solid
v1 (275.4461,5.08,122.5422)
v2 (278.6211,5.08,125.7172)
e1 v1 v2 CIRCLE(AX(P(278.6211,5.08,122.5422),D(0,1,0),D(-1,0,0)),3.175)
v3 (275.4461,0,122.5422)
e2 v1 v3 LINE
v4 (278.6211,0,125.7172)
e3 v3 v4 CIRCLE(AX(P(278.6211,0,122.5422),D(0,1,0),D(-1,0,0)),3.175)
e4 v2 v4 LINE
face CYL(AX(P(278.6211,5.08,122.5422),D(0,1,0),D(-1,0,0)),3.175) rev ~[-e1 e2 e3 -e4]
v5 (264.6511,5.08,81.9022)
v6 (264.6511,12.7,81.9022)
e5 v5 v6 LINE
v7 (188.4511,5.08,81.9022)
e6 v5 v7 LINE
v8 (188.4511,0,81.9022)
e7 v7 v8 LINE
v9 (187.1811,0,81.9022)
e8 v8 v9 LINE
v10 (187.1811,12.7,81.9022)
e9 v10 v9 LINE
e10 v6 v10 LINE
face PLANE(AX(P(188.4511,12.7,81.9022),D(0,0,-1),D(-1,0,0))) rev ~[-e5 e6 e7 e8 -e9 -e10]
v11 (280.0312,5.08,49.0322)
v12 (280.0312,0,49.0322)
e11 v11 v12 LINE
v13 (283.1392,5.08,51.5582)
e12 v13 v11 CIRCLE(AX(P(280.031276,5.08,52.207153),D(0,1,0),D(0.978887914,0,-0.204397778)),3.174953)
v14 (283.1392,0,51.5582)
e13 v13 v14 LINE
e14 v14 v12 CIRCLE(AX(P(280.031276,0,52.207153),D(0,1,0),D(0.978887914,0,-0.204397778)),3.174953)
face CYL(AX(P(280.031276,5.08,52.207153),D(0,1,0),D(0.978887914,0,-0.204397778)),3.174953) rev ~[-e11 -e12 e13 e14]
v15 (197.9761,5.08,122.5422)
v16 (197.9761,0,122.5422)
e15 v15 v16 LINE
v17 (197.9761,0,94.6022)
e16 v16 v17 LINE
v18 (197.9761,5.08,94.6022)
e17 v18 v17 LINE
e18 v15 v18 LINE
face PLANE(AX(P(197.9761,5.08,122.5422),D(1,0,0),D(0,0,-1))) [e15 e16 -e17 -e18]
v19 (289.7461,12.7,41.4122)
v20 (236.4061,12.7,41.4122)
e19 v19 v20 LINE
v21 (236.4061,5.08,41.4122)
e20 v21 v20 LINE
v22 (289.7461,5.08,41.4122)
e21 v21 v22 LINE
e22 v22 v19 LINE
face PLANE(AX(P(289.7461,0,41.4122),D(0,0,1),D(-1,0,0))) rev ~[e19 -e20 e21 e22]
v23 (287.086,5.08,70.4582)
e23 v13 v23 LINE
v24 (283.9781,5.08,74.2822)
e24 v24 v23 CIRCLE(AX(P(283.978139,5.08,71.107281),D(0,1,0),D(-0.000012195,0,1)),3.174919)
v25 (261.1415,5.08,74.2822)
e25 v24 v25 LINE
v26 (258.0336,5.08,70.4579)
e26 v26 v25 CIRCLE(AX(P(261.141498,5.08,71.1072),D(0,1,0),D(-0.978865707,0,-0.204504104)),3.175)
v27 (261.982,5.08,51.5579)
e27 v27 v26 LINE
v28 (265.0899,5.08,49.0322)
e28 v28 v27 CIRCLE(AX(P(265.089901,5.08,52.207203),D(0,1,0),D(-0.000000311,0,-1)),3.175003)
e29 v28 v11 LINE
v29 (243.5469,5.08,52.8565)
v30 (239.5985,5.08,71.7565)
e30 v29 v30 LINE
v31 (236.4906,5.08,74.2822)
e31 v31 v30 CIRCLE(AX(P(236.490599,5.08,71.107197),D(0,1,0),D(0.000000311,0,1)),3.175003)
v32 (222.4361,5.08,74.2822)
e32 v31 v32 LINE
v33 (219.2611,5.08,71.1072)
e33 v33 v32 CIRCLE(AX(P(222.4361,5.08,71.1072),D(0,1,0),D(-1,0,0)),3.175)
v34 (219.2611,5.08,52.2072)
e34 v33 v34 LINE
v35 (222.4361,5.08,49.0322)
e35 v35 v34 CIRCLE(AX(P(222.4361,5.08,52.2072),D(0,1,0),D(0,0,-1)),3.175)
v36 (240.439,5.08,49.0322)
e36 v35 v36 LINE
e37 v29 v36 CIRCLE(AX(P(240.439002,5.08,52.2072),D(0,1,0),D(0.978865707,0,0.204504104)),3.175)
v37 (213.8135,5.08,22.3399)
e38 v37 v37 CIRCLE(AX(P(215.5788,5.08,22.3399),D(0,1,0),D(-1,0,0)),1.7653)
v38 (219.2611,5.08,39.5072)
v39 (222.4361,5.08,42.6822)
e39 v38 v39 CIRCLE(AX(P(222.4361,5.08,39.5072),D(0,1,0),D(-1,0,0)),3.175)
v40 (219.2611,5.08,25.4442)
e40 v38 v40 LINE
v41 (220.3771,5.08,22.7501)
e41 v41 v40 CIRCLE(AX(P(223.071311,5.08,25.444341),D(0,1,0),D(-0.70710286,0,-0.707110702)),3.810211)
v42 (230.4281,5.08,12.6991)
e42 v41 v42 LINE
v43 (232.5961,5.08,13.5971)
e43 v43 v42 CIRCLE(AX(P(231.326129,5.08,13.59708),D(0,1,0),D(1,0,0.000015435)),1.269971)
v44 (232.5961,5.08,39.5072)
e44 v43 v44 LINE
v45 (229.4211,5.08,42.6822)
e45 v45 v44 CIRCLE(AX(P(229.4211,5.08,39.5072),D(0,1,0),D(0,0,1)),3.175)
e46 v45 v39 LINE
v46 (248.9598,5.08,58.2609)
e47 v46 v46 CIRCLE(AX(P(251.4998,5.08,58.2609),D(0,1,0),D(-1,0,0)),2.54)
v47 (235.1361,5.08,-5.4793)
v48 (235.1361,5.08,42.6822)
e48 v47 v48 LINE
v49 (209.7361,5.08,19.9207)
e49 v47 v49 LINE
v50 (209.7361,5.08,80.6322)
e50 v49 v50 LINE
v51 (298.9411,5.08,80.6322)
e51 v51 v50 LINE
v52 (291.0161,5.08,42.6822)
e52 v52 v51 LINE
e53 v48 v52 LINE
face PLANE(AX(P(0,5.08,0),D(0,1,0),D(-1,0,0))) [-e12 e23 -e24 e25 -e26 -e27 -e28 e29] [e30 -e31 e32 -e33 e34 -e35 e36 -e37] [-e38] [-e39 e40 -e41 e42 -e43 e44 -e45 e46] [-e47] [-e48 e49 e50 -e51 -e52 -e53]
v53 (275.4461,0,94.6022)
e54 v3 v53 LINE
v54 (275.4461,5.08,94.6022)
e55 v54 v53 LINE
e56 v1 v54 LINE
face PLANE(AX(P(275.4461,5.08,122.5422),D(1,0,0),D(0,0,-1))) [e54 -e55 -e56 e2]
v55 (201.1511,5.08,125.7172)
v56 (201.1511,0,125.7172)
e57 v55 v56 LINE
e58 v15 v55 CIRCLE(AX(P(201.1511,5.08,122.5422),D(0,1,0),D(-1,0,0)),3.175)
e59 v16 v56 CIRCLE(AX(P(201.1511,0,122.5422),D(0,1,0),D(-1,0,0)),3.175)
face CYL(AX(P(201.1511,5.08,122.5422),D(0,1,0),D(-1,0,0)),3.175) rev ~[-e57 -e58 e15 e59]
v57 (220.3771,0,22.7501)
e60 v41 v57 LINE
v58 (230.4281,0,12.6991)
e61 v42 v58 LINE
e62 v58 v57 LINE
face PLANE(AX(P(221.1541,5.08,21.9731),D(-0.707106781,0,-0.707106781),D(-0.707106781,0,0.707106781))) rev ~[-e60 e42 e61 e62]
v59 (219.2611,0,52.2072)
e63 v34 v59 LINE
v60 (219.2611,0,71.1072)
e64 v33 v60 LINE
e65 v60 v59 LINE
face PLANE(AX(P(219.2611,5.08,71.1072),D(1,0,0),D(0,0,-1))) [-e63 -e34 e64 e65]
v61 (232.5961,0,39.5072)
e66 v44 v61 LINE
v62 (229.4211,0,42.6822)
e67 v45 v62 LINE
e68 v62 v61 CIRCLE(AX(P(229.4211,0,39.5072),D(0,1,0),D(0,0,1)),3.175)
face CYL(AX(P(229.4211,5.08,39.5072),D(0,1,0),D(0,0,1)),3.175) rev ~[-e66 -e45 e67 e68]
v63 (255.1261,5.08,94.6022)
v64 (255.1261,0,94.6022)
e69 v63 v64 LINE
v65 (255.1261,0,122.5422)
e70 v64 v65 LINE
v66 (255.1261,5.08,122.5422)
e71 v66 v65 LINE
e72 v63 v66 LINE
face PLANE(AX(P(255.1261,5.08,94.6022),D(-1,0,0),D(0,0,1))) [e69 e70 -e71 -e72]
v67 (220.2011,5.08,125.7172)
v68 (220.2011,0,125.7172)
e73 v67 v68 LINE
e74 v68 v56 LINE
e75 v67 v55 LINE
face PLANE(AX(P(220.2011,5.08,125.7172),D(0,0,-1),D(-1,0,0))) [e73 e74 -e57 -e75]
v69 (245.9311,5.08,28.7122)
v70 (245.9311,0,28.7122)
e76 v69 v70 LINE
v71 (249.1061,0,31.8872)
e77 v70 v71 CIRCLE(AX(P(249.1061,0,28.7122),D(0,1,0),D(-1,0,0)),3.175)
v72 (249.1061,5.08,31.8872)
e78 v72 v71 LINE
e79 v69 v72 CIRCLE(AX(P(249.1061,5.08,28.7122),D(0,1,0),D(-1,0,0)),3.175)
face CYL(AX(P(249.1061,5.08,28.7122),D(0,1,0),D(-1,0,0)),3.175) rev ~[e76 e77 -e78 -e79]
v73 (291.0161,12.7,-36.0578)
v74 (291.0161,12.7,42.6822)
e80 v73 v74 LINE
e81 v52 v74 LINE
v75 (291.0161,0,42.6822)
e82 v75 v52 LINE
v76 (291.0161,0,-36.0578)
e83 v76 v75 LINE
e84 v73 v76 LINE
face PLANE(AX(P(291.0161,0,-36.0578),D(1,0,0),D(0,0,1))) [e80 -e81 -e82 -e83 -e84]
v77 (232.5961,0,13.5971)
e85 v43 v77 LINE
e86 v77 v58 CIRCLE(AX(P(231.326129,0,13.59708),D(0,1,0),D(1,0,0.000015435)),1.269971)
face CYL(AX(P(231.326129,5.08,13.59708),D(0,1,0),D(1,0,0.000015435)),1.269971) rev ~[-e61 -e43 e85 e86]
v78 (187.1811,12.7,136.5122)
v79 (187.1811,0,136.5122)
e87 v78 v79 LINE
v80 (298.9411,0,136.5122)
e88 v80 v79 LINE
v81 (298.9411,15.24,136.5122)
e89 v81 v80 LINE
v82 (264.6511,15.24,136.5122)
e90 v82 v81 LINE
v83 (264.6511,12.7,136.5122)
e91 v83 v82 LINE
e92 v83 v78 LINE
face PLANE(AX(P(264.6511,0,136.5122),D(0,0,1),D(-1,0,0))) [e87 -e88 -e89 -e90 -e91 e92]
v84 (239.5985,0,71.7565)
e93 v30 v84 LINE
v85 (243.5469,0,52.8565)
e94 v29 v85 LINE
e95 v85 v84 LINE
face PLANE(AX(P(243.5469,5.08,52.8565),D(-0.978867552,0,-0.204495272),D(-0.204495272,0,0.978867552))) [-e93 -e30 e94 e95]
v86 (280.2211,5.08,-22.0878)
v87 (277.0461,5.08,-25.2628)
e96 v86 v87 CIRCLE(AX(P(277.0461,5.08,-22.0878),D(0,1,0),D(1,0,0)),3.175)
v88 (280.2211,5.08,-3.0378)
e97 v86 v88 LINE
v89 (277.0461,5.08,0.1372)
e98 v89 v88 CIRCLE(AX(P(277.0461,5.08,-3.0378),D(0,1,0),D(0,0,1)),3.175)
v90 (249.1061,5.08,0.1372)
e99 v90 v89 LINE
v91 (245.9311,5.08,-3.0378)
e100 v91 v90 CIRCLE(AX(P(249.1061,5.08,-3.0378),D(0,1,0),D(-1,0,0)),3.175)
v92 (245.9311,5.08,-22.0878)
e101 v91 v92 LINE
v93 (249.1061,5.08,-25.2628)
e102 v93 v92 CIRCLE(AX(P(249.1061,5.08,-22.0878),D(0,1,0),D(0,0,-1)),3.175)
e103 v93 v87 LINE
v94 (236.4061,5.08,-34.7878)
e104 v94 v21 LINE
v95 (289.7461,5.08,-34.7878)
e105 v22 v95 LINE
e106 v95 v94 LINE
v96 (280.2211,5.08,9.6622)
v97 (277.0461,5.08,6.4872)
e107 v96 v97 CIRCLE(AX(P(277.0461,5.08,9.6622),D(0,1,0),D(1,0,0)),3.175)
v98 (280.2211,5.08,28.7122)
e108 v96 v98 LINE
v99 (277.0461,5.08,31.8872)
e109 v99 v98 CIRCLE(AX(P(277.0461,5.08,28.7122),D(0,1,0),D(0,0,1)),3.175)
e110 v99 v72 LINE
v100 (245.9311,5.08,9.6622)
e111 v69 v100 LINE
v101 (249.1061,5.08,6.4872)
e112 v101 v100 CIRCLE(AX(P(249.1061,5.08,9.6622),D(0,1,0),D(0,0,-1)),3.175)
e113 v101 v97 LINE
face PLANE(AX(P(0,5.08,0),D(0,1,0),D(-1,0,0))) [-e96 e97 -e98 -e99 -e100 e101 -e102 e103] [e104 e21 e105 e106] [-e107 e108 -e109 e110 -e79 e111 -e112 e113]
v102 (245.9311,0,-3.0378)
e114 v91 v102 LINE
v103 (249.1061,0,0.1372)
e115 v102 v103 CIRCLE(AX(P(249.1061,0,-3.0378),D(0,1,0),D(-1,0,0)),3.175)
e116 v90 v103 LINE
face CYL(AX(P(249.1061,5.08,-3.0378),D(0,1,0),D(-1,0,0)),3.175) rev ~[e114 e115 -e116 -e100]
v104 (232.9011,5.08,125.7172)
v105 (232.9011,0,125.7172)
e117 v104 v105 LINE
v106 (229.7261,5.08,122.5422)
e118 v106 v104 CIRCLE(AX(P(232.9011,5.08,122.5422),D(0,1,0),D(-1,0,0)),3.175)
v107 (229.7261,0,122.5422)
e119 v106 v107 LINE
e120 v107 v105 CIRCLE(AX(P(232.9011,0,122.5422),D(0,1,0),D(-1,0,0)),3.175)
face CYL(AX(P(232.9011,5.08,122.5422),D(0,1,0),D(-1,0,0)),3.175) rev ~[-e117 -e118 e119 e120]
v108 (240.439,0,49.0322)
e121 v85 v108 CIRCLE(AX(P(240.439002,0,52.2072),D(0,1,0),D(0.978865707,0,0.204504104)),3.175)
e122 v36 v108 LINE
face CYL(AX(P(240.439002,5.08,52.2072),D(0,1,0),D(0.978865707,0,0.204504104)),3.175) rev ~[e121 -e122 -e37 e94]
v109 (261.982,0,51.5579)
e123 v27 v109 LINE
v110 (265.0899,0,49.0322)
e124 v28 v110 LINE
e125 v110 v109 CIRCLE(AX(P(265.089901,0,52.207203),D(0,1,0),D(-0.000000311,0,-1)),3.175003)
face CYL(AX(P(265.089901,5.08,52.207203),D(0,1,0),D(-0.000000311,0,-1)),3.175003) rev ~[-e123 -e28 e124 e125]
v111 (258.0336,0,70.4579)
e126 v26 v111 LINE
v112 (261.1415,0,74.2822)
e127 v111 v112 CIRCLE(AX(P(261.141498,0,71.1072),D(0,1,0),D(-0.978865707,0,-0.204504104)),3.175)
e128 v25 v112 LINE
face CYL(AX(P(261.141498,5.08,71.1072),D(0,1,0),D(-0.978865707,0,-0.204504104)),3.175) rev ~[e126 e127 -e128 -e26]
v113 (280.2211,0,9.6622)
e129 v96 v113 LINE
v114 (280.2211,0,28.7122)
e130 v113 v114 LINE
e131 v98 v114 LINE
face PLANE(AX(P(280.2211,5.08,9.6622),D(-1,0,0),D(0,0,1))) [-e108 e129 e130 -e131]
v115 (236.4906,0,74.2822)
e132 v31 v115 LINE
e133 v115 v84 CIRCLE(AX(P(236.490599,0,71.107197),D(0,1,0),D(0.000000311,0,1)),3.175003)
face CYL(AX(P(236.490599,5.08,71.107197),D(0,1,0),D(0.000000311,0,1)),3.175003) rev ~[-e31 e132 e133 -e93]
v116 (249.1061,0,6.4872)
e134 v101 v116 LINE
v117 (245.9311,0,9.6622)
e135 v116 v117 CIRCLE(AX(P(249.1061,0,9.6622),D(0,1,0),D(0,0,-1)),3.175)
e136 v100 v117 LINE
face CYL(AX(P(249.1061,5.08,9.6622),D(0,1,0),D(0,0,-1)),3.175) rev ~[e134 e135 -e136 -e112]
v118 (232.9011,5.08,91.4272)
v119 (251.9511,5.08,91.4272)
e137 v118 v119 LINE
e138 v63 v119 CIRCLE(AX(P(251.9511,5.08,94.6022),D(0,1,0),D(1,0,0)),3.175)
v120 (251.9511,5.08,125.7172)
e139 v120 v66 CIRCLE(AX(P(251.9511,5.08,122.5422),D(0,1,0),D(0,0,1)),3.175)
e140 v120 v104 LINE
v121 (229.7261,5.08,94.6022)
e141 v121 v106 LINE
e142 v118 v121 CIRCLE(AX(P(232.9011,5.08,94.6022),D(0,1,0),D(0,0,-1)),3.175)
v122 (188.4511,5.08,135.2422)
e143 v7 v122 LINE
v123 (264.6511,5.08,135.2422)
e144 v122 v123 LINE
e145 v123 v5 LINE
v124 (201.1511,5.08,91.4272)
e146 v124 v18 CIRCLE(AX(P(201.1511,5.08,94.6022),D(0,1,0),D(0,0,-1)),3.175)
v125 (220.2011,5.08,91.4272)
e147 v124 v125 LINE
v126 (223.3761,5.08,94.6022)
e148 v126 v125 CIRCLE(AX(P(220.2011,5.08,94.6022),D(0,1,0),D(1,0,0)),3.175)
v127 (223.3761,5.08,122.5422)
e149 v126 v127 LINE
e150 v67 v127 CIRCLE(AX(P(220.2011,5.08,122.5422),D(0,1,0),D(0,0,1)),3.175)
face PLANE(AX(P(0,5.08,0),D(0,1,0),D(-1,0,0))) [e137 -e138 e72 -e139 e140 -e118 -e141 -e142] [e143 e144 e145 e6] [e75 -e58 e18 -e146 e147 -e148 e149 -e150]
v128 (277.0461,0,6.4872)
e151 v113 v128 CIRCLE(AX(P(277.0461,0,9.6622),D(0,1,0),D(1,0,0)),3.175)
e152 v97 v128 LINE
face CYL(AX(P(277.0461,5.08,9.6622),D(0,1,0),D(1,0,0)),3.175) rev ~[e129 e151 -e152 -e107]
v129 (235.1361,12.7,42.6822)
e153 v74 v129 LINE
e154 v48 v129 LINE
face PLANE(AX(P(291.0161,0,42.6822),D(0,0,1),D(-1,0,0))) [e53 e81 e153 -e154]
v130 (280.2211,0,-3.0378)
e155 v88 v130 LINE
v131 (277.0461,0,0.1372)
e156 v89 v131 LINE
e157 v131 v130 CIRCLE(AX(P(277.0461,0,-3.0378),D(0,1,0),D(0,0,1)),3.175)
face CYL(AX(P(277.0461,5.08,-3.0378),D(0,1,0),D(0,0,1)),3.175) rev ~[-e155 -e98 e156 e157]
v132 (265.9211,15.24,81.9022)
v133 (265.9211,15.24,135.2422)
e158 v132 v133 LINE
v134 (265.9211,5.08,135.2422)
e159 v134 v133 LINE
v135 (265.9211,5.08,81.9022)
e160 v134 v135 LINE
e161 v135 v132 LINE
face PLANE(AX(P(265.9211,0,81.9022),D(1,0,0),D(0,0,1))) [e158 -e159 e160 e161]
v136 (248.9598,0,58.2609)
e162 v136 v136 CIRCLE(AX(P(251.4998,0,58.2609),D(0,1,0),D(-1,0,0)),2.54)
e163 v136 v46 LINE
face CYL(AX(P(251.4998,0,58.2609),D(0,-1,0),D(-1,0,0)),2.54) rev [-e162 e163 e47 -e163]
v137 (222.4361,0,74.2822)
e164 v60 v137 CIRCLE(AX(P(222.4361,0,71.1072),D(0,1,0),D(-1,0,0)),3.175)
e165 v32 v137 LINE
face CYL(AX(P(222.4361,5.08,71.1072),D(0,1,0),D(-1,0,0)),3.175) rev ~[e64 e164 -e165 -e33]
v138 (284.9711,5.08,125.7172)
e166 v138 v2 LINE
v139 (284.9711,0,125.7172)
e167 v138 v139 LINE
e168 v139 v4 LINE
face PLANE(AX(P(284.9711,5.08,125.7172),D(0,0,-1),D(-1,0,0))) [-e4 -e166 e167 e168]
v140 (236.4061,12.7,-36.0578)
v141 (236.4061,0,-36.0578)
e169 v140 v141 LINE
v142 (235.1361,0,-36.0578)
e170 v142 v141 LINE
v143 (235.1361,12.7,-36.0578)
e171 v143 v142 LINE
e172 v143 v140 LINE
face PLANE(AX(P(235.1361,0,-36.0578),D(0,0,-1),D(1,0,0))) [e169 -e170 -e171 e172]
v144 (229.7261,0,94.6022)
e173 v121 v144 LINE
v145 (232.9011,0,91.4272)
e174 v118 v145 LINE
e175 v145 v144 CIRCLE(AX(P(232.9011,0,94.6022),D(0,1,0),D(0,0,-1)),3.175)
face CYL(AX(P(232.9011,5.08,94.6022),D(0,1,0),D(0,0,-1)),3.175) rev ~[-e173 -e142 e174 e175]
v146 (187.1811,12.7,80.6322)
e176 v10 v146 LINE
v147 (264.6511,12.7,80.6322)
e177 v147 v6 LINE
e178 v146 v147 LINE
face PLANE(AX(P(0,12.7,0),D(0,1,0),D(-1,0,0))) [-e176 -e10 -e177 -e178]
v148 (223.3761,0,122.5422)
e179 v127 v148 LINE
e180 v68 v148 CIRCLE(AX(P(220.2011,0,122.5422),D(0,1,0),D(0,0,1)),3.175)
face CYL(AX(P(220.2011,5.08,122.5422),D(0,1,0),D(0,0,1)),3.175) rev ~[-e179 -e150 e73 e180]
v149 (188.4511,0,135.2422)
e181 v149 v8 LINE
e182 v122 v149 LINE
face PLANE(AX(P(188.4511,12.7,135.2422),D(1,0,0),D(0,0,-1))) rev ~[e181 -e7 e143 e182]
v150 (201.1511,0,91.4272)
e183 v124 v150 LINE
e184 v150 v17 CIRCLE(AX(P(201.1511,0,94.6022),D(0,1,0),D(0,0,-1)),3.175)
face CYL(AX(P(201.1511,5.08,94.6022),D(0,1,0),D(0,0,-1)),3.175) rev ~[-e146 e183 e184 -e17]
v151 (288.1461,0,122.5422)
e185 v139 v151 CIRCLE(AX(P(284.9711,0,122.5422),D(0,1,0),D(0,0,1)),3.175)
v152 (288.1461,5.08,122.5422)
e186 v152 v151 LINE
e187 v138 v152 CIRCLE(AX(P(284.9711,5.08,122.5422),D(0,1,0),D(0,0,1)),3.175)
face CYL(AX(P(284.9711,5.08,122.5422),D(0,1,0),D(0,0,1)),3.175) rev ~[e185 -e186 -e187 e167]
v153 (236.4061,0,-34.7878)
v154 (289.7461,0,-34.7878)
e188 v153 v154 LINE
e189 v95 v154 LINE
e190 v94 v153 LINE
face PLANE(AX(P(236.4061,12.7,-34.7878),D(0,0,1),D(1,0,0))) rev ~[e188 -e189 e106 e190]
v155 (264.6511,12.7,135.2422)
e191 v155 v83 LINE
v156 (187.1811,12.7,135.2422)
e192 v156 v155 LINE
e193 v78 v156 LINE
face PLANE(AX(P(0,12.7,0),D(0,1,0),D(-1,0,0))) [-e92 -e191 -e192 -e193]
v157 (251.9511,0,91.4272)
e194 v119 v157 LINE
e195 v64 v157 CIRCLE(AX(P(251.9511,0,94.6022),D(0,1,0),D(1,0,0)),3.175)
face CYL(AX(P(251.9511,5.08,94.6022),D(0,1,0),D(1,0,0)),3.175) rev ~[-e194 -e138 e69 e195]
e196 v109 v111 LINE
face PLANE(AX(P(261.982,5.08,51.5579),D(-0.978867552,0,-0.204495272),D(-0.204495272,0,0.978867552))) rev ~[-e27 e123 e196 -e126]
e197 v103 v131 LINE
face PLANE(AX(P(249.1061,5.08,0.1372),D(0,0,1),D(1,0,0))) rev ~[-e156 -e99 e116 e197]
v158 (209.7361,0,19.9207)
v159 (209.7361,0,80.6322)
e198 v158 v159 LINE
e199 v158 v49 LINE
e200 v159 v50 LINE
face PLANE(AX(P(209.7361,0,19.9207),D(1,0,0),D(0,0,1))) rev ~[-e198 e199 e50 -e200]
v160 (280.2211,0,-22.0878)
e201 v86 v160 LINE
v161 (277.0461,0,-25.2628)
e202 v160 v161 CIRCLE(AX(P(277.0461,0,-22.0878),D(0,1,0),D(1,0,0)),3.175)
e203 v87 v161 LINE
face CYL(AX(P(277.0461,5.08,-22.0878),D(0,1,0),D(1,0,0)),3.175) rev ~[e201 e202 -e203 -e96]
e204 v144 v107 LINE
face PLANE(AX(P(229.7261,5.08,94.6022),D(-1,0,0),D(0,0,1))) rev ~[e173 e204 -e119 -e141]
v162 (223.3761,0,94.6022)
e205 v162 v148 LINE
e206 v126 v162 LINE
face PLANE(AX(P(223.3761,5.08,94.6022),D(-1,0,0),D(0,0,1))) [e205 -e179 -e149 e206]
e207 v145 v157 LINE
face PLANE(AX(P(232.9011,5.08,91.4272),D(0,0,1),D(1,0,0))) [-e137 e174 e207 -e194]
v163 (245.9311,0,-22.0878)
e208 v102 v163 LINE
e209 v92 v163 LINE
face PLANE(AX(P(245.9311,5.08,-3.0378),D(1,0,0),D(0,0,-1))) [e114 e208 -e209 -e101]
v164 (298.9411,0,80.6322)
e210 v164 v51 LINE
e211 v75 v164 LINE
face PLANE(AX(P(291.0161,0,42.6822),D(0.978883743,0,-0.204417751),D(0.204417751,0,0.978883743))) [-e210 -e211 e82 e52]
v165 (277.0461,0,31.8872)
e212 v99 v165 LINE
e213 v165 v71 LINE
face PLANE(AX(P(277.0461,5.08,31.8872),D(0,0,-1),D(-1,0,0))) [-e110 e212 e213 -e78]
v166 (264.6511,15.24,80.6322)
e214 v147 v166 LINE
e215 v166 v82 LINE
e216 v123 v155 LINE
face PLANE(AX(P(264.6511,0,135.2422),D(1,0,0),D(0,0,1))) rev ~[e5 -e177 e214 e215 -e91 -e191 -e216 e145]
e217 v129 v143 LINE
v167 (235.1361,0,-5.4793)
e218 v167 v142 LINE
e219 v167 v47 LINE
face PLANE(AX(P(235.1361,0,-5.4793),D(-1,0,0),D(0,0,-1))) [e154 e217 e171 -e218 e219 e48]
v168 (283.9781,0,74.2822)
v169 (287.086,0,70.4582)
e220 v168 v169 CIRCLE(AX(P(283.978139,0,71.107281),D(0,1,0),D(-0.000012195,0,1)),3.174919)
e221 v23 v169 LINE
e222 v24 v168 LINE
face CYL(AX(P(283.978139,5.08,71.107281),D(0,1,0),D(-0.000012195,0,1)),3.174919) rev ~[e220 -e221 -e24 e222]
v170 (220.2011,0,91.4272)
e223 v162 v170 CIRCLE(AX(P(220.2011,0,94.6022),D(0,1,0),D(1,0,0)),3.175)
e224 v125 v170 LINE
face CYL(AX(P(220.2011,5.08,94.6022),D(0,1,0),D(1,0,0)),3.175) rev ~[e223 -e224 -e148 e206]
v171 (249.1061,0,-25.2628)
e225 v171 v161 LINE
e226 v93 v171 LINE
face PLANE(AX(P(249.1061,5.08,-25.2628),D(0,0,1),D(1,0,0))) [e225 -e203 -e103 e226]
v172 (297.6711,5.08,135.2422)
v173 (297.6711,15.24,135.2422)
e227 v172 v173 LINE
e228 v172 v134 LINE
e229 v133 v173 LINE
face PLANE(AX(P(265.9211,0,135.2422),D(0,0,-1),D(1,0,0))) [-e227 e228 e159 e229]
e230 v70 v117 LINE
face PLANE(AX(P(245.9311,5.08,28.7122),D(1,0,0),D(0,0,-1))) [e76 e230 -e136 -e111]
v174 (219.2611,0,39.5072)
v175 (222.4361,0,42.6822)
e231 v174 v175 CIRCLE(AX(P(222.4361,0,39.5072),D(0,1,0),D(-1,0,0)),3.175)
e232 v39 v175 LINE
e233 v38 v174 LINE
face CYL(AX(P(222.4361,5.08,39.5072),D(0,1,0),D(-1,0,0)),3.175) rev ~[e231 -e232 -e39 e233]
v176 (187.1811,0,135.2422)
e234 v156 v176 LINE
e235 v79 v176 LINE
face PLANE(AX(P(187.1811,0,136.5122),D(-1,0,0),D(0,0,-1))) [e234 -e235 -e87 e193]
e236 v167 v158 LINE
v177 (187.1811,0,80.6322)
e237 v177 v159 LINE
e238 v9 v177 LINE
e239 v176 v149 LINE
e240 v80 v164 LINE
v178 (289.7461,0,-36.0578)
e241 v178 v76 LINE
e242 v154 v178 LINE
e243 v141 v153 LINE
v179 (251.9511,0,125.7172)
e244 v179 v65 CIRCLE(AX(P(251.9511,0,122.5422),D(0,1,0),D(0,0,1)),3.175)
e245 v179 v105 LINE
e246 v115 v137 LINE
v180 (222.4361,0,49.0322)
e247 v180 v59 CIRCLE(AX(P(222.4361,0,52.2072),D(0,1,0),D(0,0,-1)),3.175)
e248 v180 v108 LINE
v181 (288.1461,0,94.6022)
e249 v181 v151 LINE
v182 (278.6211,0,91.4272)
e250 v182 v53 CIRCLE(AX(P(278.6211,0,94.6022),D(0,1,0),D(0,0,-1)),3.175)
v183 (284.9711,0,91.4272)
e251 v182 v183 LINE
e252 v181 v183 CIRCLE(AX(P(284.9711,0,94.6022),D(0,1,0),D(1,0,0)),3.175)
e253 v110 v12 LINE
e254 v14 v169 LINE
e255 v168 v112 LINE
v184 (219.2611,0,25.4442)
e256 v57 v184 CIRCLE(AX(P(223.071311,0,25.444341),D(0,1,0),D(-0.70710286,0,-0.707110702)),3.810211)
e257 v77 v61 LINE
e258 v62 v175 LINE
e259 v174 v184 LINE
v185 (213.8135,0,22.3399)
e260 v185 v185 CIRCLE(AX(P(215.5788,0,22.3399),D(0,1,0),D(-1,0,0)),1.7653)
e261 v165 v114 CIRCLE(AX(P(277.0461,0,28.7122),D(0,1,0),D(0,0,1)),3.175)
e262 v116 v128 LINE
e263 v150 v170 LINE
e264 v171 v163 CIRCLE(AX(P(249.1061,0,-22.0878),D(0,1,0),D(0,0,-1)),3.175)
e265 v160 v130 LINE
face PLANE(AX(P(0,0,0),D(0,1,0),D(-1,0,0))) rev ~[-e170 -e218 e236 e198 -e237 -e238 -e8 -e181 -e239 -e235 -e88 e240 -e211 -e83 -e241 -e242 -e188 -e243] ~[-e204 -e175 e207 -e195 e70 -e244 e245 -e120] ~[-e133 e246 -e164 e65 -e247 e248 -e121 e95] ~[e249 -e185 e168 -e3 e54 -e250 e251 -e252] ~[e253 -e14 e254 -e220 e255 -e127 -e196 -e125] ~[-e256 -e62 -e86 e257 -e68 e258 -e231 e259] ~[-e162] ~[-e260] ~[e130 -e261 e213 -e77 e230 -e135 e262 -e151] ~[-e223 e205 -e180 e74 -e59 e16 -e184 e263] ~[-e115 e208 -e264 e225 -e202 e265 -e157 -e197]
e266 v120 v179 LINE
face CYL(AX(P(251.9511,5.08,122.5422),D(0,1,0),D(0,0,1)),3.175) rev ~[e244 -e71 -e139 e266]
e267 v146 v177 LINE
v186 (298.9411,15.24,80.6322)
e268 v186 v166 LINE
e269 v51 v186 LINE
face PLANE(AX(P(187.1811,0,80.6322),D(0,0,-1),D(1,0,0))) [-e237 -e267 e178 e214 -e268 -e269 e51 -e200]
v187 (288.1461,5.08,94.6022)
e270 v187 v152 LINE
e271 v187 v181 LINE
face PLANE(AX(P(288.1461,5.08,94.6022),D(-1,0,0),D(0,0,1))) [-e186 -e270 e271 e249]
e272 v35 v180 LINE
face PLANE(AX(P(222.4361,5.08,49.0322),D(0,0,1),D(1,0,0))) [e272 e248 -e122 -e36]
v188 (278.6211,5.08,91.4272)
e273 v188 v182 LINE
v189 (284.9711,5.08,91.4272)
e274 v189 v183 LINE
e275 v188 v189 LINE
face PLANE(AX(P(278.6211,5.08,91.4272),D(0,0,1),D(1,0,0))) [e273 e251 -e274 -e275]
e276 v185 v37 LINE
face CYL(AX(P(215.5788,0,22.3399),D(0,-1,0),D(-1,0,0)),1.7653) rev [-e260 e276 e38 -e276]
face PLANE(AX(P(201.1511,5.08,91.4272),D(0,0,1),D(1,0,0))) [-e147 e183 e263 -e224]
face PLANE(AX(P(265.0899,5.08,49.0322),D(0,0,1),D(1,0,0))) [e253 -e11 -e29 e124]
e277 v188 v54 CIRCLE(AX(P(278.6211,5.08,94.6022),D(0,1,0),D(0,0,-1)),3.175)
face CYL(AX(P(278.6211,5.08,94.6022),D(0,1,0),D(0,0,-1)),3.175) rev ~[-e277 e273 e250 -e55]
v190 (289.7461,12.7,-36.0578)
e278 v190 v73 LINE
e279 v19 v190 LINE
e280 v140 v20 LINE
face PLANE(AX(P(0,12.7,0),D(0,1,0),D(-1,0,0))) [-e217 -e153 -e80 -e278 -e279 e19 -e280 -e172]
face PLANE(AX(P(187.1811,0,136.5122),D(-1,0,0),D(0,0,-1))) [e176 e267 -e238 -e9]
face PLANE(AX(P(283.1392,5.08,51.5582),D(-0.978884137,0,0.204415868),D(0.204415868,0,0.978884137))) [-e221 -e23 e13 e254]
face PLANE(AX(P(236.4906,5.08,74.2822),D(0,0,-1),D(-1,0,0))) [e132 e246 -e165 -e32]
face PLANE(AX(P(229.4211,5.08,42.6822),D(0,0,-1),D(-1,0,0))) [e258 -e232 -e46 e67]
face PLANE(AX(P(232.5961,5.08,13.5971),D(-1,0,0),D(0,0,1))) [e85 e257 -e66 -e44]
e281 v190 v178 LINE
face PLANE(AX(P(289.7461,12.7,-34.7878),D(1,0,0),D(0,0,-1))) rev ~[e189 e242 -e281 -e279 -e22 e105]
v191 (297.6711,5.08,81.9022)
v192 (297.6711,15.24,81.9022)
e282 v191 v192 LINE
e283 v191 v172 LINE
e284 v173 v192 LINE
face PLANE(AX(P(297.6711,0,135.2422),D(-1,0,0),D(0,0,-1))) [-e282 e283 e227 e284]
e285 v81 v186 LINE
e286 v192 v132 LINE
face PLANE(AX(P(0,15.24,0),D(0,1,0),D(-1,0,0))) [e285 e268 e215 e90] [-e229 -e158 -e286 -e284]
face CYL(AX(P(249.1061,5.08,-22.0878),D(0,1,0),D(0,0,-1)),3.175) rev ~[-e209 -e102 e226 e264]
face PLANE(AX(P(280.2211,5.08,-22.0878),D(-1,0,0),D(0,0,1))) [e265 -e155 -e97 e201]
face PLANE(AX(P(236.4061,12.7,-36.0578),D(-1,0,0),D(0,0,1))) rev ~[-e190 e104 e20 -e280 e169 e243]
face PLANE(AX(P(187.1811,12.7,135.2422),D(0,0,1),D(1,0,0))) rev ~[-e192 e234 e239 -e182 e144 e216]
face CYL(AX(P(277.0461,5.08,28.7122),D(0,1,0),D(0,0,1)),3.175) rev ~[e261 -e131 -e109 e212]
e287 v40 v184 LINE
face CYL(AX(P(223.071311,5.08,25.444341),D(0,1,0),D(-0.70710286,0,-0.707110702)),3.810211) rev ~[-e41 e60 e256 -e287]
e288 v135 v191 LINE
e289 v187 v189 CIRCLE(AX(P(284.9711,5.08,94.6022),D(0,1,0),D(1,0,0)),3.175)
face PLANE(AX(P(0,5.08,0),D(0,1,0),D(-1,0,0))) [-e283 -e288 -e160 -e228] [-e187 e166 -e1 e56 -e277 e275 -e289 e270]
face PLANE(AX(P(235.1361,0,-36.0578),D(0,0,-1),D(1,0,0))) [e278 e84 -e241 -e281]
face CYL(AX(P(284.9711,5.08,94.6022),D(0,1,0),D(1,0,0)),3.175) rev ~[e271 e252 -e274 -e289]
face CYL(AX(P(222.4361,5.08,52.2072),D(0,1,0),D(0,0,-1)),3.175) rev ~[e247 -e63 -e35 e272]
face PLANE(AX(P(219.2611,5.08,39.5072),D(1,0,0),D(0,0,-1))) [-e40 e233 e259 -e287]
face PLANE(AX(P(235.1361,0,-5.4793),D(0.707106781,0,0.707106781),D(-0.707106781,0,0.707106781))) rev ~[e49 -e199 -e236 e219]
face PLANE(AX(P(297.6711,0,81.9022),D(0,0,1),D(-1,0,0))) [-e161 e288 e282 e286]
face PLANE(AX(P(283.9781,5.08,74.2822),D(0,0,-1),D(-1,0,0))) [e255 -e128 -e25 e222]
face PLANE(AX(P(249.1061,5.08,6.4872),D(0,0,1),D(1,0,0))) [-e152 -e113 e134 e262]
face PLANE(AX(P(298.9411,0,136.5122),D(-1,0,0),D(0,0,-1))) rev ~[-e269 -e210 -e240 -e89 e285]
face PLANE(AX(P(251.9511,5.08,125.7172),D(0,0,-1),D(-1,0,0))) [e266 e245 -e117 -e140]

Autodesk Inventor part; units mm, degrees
ref_plane "YZ Plane" through (0, 0, 0) normal (1, 0, 0) x (0, 1, 0)
ref_plane "XZ Plane" through (0, 0, 0) normal (0, 1, 0) x (-1, 0, 0)
ref_plane "XY Plane" through (0, 0, 0) normal (0, 0, 1) x (1, 0, 0)
sketch "Sketch1" plane through (0, 0, 0) normal (0, 1, 0) x (-1, 0, 0)
  line L0 (-203.3861, 74.2822) -> (-125.9161, 74.2822) construction
  line L1 (-125.9161, 74.2822) -> (-125.9161, -61.6078) construction
  line L2 (-125.9161, -61.6078) -> (-203.3861, -61.6078) construction
  line L3 (-203.3861, -61.6078) -> (-203.3861, 74.2822) construction
  line L4 (-203.3861, 74.2822) -> (-266.8861, 74.2822) construction
  line L5 (-164.6511, 373.4543) -> (-228.1511, 373.4543) construction
  line L6 (-228.1511, 373.4543) -> (-228.1511, 106.7543) construction
  line L7 (-228.1511, 106.7543) -> (-299.9932, 34.9122) construction
  line L8 (-299.9932, 34.9122) -> (-668.2932, 34.9122) construction
  line L9 (-668.2932, 34.9122) -> (-668.2932, -28.5878) construction
  line L10 (-668.2932, -28.5878) -> (-223.7932, -28.5878) construction
  line L11 (-223.7932, -28.5878) -> (-164.6511, 30.5543) construction
  line L12 (-164.6511, 30.5543) -> (-164.6511, 373.4543) construction
  line L13 (-264.0722, 70.8332) -> (-194.2222, 0.9832) construction
  line L14 (-266.8861, 74.2822) -> (-266.8861, 48.8822) construction
  line L15 (-266.8861, 48.8822) -> (-203.3861, -14.6178) construction
  line L16 (-266.8861, 68.0193) -> (-260.6232, 74.2822) construction
  circle A0 centre (-251.4998, 58.2609) radius 2.54
  circle A1 centre (-215.5788, 22.3399) radius 1.7653
  line L17 (-264.6511, 135.2422) -> (-188.4511, 135.2422)
  line L18 (-188.4511, 135.2422) -> (-188.4511, 81.9022)
  line L19 (-188.4511, 81.9022) -> (-264.6511, 81.9022)
  line L20 (-264.6511, 81.9022) -> (-264.6511, 135.2422)
  circle A2 centre (-164.6511, -28.5878) radius 4.9213 construction
  line L21 (-164.6511, 30.5543) -> (-164.6511, -28.5878) construction
  line L22 (-164.6511, -28.5878) -> (-223.7932, -28.5878) construction
  line L23 (-264.6511, 136.5122) -> (-187.1811, 136.5122)
  line L24 (-187.1811, 136.5122) -> (-187.1811, 80.6322)
  line L25 (-187.1811, 80.6322) -> (-264.6511, 80.6322)
  line L26 (-264.6511, 80.6322) -> (-264.6511, 136.5122)
  line L27 (-289.7461, 41.4122) -> (-236.4061, 41.4122)
  line L28 (-236.4061, 41.4122) -> (-236.4061, -34.7878)
  line L29 (-236.4061, -34.7878) -> (-289.7461, -34.7878)
  line L30 (-289.7461, -34.7878) -> (-289.7461, 41.4122)
  line L31 (-291.0161, 42.6822) -> (-235.1361, 42.6822)
  line L32 (-235.1361, 42.6822) -> (-235.1361, -36.0578)
  line L33 (-235.1361, -36.0578) -> (-291.0161, -36.0578)
  line L34 (-291.0161, -36.0578) -> (-291.0161, 42.6822)
  line L35 (-235.1361, -5.4793) -> (-209.7361, 19.9207)
  line L36 (-209.7361, 19.9207) -> (-209.7361, 80.6322)
  line L37 (-264.6511, 136.5122) -> (-264.6511, 80.6322)
  line L38 (-264.6511, 81.9022) -> (-264.6511, 135.2422)
  line L39 (-264.6511, 80.6322) -> (-264.6511, 136.5122)
  line L40 (-265.9211, 135.2422) -> (-297.6711, 135.2422)
  line L41 (-297.6711, 135.2422) -> (-297.6711, 81.9022)
  line L42 (-297.6711, 81.9022) -> (-265.9211, 81.9022)
  line L43 (-265.9211, 81.9022) -> (-265.9211, 135.2422)
  line L44 (-264.6511, 136.5122) -> (-298.9411, 136.5122)
  line L45 (-298.9411, 136.5122) -> (-298.9411, 80.6322)
  line L46 (-298.9411, 80.6322) -> (-264.6511, 80.6322)
  line L47 (-291.0161, 42.6822) -> (-298.9411, 80.6322)
  circle A3 centre (-278.6211, 114.9222) radius 3.175 construction
  point P0 (0, 0)
  point P1 (-177.3511, 74.2822)
  point P2 (-151.9511, 74.2822)
  point P3 (-177.3511, -61.6078)
  point P4 (-151.9511, -61.6078)
  dimension "d0" = 63.5
  dimension "d1" = 63.5
  dimension "d2" = 63.5
  dimension "d3" = 101.6
  dimension "d4" = 266.7
  dimension "d5" = 368.3
  dimension "d6" = 444.5
  dimension "d7" = 342.9
  dimension "d8" = 17.78
  dimension "d9" = 68.58
  dimension "d10" = 25.4
  dimension "d11" = 5.08
  dimension "d12" = 3.5306
  dimension "d14" = 76.2
  dimension "d15" = 9.8425
  dimension "d16" = 59.142
  dimension "d17" = 100
  dimension "d20" = 1.27
  dimension "d22" = 6.35
  dimension "d26" = 53.34
  dimension "d27" = 1.27
  dimension "d28" = 1.27
  dimension "d29" = 1.27
  dimension "d30" = 1.27
  dimension "d31" = 76.2
  dimension "d32" = 31.75
  dimension "d33" = 70
  dimension "d42" = 6.35
  dimension "d43" = 5.8426
  dimension "d44" = 5.842
  dimension "d50" = 31.75
  dimension "d51" = 1.27
  dimension "d52" = 1.27
  dimension "d53" = 53.34
  dimension "d54" = 1.27
  dimension "d55" = 1.27
  dimension "d71" = 6.35
  dimension "d72" = 20.32
  dimension "d73" = 12.7
extrude "Extrusion6" add sketch "Sketch1" along normal blind 5.08 contours L26 L23 L24 L25 L19 L18 L17 | L17 L18 L19 L20 | L20 L26 L46 L45 L44 | L25 L36 L35 L32 L31 L47 L46 | L31 L32 L33 L34 | L27 L28 L29 L30 | L43 L42 L41 L40
extrude "Extrusion7" add sketch "Sketch1" along normal blind 12.7 contours L26 L23 L24 L25 L19 L18 L17
extrude "Extrusion8" add sketch "Sketch1" along normal blind 12.7 contours L31 L32 L33 L34
extrude "Extrusion9" add sketch "Sketch1" along normal blind 15.24 contours L20 L26 L46 L45 L44
sketch "Sketch6" plane through (0, 12.7, 0) normal (0, 1, 0) x (1, 0, 0)
  line L0 (187.1811, -80.6322) -> (187.1811, -136.5122) projected
  line L1 (188.4511, -81.9022) -> (187.1811, -81.9022)
  line L2 (187.1811, -81.9022) -> (187.1811, -135.2422)
  line L3 (187.1811, -135.2422) -> (188.4511, -135.2422)
  line L4 (188.4511, -135.2422) -> (188.4511, -81.9022)
  point P0 (0, 0)
extrude "Extrusion11" cut sketch "Sketch6" against normal blind 25.4
sketch "Sketch7" plane through (0, 12.7, 0) normal (0, 1, 0) x (1, 0, 0)
  line L0 (291.0161, 36.0578) -> (235.1361, 36.0578) projected
  line L1 (236.4061, 34.7878) -> (289.7461, 34.7878)
  line L2 (289.7461, 34.7878) -> (289.7461, 36.0578)
  line L3 (289.7461, 36.0578) -> (236.4061, 36.0578)
  line L4 (236.4061, 36.0578) -> (236.4061, 34.7878)
  point P0 (0, 0)
extrude "Extrusion12" cut sketch "Sketch7" against normal blind 25.4
sketch "Sketch8" plane through (0, 5.08, 0) normal (0, 1, 0) x (1, 0, 0)
  line L0 (265.9211, -81.9022) -> (265.9211, -135.2422) projected
  line L1 (265.9211, -135.2422) -> (297.6711, -135.2422) projected
  line L2 (297.6711, -135.2422) -> (297.6711, -81.9022) projected
  line L3 (297.6711, -81.9022) -> (265.9211, -81.9022) projected
  line L4 (278.6211, -91.4272) -> (284.9711, -91.4272)
  line L5 (288.1461, -94.6022) -> (288.1461, -122.5422)
  line L6 (284.9711, -125.7172) -> (278.6211, -125.7172)
  line L7 (275.4461, -122.5422) -> (275.4461, -94.6022)
  arc A0 (278.6211, -91.4272) -> (275.4461, -94.6022) centre (278.6211, -94.6022) ccw
  arc A1 (288.1461, -94.6022) -> (284.9711, -91.4272) centre (284.9711, -94.6022) ccw
  arc A2 (284.9711, -125.7172) -> (288.1461, -122.5422) centre (284.9711, -122.5422) ccw
  arc A3 (275.4461, -122.5422) -> (278.6211, -125.7172) centre (278.6211, -122.5422) ccw
  point P0 (0, 0)
  point P1 (275.4461, -91.4272)
  point P2 (288.1461, -125.7172)
  point P3 (288.1461, -91.4272)
  point P4 (275.4461, -125.7172)
  dimension "d74" = 9.525
  dimension "d75" = 9.525
  dimension "d76" = 9.525
  dimension "d77" = 9.525
  dimension "d115" = 3.175
extrude "Extrusion13" cut sketch "Sketch8" against normal blind 25.4 contours L4 A1 L5 A2 L6 A3 L7 A0
sketch "Sketch9" plane through (0, 5.08, 0) normal (0, 1, 0) x (1, 0, 0)
  line L0 (264.6511, -135.2422) -> (264.6511, -81.9022) projected
  line L1 (188.4511, -81.9022) -> (188.4511, -135.2422) projected
  line L2 (255.1261, -94.6022) -> (255.1261, -122.5422)
  line L3 (197.9761, -122.5422) -> (197.9761, -94.6022)
  line L4 (223.3761, -94.6022) -> (223.3761, -122.5422)
  line L5 (229.7261, -94.6022) -> (229.7261, -122.5422)
  line L6 (201.1511, -91.4272) -> (220.2011, -91.4272)
  line L7 (232.9011, -91.4272) -> (251.9511, -91.4272)
  line L8 (251.9511, -125.7172) -> (232.9011, -125.7172)
  line L9 (220.2011, -125.7172) -> (201.1511, -125.7172)
  arc A0 (201.1511, -91.4272) -> (197.9761, -94.6022) centre (201.1511, -94.6022) ccw
  arc A1 (223.3761, -94.6022) -> (220.2011, -91.4272) centre (220.2011, -94.6022) ccw
  arc A2 (197.9761, -122.5422) -> (201.1511, -125.7172) centre (201.1511, -122.5422) ccw
  arc A3 (220.2011, -125.7172) -> (223.3761, -122.5422) centre (220.2011, -122.5422) ccw
  arc A4 (229.7261, -122.5422) -> (232.9011, -125.7172) centre (232.9011, -122.5422) ccw
  arc A5 (232.9011, -91.4272) -> (229.7261, -94.6022) centre (232.9011, -94.6022) ccw
  arc A6 (255.1261, -94.6022) -> (251.9511, -91.4272) centre (251.9511, -94.6022) ccw
  arc A7 (251.9511, -125.7172) -> (255.1261, -122.5422) centre (251.9511, -122.5422) ccw
  point P0 (0, 0)
  point P1 (197.9761, -91.4272)
  point P2 (255.1261, -125.7172)
  point P3 (255.1261, -91.4272)
  point P4 (197.9761, -125.7172)
  point P5 (223.3761, -91.4272)
  point P6 (223.3761, -125.7172)
  point P7 (229.7261, -91.4272)
  point P8 (229.7261, -125.7172)
  dimension "d80" = 9.525
  dimension "d82" = 9.525
  dimension "d84" = 25.4
  dimension "d85" = 25.4
  dimension "d116" = 3.175
extrude "Extrusion14" cut sketch "Sketch9" against normal blind 25.4
sketch "Sketch10" plane through (0, 5.08, 0) normal (0, 1, 0) x (1, 0, 0)
  line L0 (236.4061, -41.4122) -> (289.7461, -41.4122) projected
  line L1 (289.7461, 34.7878) -> (236.4061, 34.7878) projected
  line L2 (249.1061, 25.2628) -> (277.0461, 25.2628)
  line L3 (277.0461, -31.8872) -> (249.1061, -31.8872)
  line L4 (249.1061, -0.1372) -> (277.0461, -0.1372)
  line L5 (249.1061, -6.4872) -> (277.0461, -6.4872)
  line L6 (188.4511, -135.2422) -> (264.6511, -135.2422) projected
  line L7 (280.2211, 22.0878) -> (280.2211, 3.0378)
  line L8 (280.2211, -9.6622) -> (280.2211, -28.7122)
  line L9 (245.9311, -28.7122) -> (245.9311, -9.6622)
  line L10 (245.9311, 3.0378) -> (245.9311, 22.0878)
  arc A0 (245.9311, 3.0378) -> (249.1061, -0.1372) centre (249.1061, 3.0378) ccw
  arc A1 (249.1061, 25.2628) -> (245.9311, 22.0878) centre (249.1061, 22.0878) ccw
  arc A2 (280.2211, 22.0878) -> (277.0461, 25.2628) centre (277.0461, 22.0878) ccw
  arc A3 (277.0461, -0.1372) -> (280.2211, 3.0378) centre (277.0461, 3.0378) ccw
  arc A4 (280.2211, -9.6622) -> (277.0461, -6.4872) centre (277.0461, -9.6622) ccw
  arc A5 (249.1061, -6.4872) -> (245.9311, -9.6622) centre (249.1061, -9.6622) ccw
  arc A6 (245.9311, -28.7122) -> (249.1061, -31.8872) centre (249.1061, -28.7122) ccw
  arc A7 (277.0461, -31.8872) -> (280.2211, -28.7122) centre (277.0461, -28.7122) ccw
  point P0 (0, 0)
  point P1 (245.9311, 25.2628)
  point P2 (280.2211, -31.8872)
  point P3 (280.2211, 25.2628)
  point P4 (245.9311, -31.8872)
  point P5 (245.9311, -0.1372)
  point P6 (280.2211, -0.1372)
  point P7 (245.9311, -6.4872)
  point P8 (280.2211, -6.4872)
  dimension "d88" = 9.525
  dimension "d91" = 9.525
  dimension "d92" = 25.4
  dimension "d93" = 25.4
  dimension "d117" = 3.175
extrude "Extrusion15" cut sketch "Sketch10" against normal blind 25.4
sketch "Sketch11" plane through (0, 5.08, 0) normal (0, 1, 0) x (1, 0, 0)
  line L0 (209.7361, -80.6322) -> (298.9411, -80.6322) projected
  line L1 (298.9411, -80.6322) -> (291.0161, -42.6822) projected
  line L2 (291.0161, -42.6822) -> (235.1361, -42.6822) projected
  line L3 (235.1361, -42.6822) -> (235.1361, 5.4793) projected
  line L4 (235.1361, 5.4793) -> (209.7361, -19.9207) projected
  line L5 (209.7361, -19.9207) -> (209.7361, -80.6322) projected
  circle A0 centre (215.5788, -22.3399) radius 1.7653 projected
  circle A1 centre (251.4998, -58.2609) radius 2.54 projected
  line L6 (265.0899, -49.0322) -> (280.0312, -49.0322)
  line L7 (283.1392, -51.5582) -> (287.086, -70.4582)
  line L8 (283.9781, -74.2822) -> (266.5077, -74.2822)
  line L9 (261.982, -51.5579) -> (258.0336, -70.4579)
  line L10 (261.1415, -74.2822) -> (266.5077, -74.2822)
  line L11 (243.5469, -52.8565) -> (239.5985, -71.7565)
  line L12 (236.4906, -74.2822) -> (222.4361, -74.2822)
  line L13 (219.2611, -71.1072) -> (219.2611, -52.2072)
  line L14 (222.4361, -49.0322) -> (240.439, -49.0322)
  line L15 (229.4211, -42.6822) -> (222.4361, -42.6822)
  line L16 (219.2611, -39.5072) -> (219.2611, -26.5422)
  line L17 (232.5961, -13.5971) -> (232.5961, -39.5072)
  line L18 (235.1361, -42.6822) -> (291.0161, -42.6822) projected
  line L19 (221.1541, -21.9731) -> (230.4281, -12.6991)
  line L20 (232.5961, -10.531) -> (232.5961, -13.2072)
  line L21 (188.4511, -135.2422) -> (264.6511, -135.2422) projected
  arc A2 (243.5469, -52.8565) -> (240.439, -49.0322) centre (240.439, -52.2072) ccw
  arc A3 (222.4361, -49.0322) -> (219.2611, -52.2072) centre (222.4361, -52.2072) ccw
  arc A4 (219.2611, -71.1072) -> (222.4361, -74.2822) centre (222.4361, -71.1072) ccw
  arc A5 (236.4906, -74.2822) -> (239.5985, -71.7565) centre (236.4906, -71.1072) ccw
  arc A6 (258.0336, -70.4579) -> (261.1415, -74.2822) centre (261.1415, -71.1072) ccw
  arc A7 (265.0899, -49.0322) -> (261.982, -51.5579) centre (265.0899, -52.2072) ccw
  arc A8 (283.1392, -51.5582) -> (280.0312, -49.0322) centre (280.0312, -52.2072) ccw
  arc A9 (283.9781, -74.2822) -> (287.086, -70.4582) centre (283.9781, -71.1072) ccw
  arc A10 (229.4211, -42.6822) -> (232.5961, -39.5072) centre (229.4211, -39.5072) ccw
  arc A11 (219.2611, -39.5072) -> (222.4361, -42.6822) centre (222.4361, -39.5072) ccw
  arc A12 (232.5961, -13.5971) -> (230.4281, -12.6991) centre (231.3261, -13.5971) ccw
  line L22 (221.1541, -21.9731) -> (220.3771, -22.7501)
  line L23 (219.2611, -25.4442) -> (219.2611, -26.5422)
  arc A13 (220.3771, -22.7501) -> (219.2611, -25.4442) centre (223.0711, -25.4442) ccw
  point P0 (0, 0)
  point P1 (282.6117, -49.0322)
  point P2 (287.8846, -74.2822)
  point P3 (262.5097, -49.0322)
  point P4 (257.2347, -74.2822)
  point P5 (244.3458, -49.0322)
  point P6 (239.0708, -74.2822)
  point P7 (219.2611, -74.2822)
  point P8 (219.2611, -49.0322)
  point P9 (232.5961, -42.6822)
  point P10 (219.2611, -42.6822)
  dimension "d96" = 6.35
  dimension "d97" = 9.525
  dimension "d98" = 6.35
  dimension "d100" = 101.795
  dimension "d101" = 101.8
  dimension "d102" = 6.35
  dimension "d103" = 9.525
  dimension "d104" = 6.35
  dimension "d105" = 6.35
  dimension "d106" = 6.35
  dimension "d108" = 2.54
  dimension "d111" = 9.525
  dimension "d118" = 3.175
  dimension "d119" = 1.27
  dimension "d120" = 3.81
  dimension "d121" = 2.5347
extrude "Extrusion16" cut sketch "Sketch11" against normal blind 25.4 contours L6 A8 L7 A9 L8 L10 A6 L9 A7 | L11 A5 L12 A4 L13 A3 L14 A2 | L15 A11 L16 L23 A13 L22 L19 A12 L17 A10
properties part number "Laser_Holder"
